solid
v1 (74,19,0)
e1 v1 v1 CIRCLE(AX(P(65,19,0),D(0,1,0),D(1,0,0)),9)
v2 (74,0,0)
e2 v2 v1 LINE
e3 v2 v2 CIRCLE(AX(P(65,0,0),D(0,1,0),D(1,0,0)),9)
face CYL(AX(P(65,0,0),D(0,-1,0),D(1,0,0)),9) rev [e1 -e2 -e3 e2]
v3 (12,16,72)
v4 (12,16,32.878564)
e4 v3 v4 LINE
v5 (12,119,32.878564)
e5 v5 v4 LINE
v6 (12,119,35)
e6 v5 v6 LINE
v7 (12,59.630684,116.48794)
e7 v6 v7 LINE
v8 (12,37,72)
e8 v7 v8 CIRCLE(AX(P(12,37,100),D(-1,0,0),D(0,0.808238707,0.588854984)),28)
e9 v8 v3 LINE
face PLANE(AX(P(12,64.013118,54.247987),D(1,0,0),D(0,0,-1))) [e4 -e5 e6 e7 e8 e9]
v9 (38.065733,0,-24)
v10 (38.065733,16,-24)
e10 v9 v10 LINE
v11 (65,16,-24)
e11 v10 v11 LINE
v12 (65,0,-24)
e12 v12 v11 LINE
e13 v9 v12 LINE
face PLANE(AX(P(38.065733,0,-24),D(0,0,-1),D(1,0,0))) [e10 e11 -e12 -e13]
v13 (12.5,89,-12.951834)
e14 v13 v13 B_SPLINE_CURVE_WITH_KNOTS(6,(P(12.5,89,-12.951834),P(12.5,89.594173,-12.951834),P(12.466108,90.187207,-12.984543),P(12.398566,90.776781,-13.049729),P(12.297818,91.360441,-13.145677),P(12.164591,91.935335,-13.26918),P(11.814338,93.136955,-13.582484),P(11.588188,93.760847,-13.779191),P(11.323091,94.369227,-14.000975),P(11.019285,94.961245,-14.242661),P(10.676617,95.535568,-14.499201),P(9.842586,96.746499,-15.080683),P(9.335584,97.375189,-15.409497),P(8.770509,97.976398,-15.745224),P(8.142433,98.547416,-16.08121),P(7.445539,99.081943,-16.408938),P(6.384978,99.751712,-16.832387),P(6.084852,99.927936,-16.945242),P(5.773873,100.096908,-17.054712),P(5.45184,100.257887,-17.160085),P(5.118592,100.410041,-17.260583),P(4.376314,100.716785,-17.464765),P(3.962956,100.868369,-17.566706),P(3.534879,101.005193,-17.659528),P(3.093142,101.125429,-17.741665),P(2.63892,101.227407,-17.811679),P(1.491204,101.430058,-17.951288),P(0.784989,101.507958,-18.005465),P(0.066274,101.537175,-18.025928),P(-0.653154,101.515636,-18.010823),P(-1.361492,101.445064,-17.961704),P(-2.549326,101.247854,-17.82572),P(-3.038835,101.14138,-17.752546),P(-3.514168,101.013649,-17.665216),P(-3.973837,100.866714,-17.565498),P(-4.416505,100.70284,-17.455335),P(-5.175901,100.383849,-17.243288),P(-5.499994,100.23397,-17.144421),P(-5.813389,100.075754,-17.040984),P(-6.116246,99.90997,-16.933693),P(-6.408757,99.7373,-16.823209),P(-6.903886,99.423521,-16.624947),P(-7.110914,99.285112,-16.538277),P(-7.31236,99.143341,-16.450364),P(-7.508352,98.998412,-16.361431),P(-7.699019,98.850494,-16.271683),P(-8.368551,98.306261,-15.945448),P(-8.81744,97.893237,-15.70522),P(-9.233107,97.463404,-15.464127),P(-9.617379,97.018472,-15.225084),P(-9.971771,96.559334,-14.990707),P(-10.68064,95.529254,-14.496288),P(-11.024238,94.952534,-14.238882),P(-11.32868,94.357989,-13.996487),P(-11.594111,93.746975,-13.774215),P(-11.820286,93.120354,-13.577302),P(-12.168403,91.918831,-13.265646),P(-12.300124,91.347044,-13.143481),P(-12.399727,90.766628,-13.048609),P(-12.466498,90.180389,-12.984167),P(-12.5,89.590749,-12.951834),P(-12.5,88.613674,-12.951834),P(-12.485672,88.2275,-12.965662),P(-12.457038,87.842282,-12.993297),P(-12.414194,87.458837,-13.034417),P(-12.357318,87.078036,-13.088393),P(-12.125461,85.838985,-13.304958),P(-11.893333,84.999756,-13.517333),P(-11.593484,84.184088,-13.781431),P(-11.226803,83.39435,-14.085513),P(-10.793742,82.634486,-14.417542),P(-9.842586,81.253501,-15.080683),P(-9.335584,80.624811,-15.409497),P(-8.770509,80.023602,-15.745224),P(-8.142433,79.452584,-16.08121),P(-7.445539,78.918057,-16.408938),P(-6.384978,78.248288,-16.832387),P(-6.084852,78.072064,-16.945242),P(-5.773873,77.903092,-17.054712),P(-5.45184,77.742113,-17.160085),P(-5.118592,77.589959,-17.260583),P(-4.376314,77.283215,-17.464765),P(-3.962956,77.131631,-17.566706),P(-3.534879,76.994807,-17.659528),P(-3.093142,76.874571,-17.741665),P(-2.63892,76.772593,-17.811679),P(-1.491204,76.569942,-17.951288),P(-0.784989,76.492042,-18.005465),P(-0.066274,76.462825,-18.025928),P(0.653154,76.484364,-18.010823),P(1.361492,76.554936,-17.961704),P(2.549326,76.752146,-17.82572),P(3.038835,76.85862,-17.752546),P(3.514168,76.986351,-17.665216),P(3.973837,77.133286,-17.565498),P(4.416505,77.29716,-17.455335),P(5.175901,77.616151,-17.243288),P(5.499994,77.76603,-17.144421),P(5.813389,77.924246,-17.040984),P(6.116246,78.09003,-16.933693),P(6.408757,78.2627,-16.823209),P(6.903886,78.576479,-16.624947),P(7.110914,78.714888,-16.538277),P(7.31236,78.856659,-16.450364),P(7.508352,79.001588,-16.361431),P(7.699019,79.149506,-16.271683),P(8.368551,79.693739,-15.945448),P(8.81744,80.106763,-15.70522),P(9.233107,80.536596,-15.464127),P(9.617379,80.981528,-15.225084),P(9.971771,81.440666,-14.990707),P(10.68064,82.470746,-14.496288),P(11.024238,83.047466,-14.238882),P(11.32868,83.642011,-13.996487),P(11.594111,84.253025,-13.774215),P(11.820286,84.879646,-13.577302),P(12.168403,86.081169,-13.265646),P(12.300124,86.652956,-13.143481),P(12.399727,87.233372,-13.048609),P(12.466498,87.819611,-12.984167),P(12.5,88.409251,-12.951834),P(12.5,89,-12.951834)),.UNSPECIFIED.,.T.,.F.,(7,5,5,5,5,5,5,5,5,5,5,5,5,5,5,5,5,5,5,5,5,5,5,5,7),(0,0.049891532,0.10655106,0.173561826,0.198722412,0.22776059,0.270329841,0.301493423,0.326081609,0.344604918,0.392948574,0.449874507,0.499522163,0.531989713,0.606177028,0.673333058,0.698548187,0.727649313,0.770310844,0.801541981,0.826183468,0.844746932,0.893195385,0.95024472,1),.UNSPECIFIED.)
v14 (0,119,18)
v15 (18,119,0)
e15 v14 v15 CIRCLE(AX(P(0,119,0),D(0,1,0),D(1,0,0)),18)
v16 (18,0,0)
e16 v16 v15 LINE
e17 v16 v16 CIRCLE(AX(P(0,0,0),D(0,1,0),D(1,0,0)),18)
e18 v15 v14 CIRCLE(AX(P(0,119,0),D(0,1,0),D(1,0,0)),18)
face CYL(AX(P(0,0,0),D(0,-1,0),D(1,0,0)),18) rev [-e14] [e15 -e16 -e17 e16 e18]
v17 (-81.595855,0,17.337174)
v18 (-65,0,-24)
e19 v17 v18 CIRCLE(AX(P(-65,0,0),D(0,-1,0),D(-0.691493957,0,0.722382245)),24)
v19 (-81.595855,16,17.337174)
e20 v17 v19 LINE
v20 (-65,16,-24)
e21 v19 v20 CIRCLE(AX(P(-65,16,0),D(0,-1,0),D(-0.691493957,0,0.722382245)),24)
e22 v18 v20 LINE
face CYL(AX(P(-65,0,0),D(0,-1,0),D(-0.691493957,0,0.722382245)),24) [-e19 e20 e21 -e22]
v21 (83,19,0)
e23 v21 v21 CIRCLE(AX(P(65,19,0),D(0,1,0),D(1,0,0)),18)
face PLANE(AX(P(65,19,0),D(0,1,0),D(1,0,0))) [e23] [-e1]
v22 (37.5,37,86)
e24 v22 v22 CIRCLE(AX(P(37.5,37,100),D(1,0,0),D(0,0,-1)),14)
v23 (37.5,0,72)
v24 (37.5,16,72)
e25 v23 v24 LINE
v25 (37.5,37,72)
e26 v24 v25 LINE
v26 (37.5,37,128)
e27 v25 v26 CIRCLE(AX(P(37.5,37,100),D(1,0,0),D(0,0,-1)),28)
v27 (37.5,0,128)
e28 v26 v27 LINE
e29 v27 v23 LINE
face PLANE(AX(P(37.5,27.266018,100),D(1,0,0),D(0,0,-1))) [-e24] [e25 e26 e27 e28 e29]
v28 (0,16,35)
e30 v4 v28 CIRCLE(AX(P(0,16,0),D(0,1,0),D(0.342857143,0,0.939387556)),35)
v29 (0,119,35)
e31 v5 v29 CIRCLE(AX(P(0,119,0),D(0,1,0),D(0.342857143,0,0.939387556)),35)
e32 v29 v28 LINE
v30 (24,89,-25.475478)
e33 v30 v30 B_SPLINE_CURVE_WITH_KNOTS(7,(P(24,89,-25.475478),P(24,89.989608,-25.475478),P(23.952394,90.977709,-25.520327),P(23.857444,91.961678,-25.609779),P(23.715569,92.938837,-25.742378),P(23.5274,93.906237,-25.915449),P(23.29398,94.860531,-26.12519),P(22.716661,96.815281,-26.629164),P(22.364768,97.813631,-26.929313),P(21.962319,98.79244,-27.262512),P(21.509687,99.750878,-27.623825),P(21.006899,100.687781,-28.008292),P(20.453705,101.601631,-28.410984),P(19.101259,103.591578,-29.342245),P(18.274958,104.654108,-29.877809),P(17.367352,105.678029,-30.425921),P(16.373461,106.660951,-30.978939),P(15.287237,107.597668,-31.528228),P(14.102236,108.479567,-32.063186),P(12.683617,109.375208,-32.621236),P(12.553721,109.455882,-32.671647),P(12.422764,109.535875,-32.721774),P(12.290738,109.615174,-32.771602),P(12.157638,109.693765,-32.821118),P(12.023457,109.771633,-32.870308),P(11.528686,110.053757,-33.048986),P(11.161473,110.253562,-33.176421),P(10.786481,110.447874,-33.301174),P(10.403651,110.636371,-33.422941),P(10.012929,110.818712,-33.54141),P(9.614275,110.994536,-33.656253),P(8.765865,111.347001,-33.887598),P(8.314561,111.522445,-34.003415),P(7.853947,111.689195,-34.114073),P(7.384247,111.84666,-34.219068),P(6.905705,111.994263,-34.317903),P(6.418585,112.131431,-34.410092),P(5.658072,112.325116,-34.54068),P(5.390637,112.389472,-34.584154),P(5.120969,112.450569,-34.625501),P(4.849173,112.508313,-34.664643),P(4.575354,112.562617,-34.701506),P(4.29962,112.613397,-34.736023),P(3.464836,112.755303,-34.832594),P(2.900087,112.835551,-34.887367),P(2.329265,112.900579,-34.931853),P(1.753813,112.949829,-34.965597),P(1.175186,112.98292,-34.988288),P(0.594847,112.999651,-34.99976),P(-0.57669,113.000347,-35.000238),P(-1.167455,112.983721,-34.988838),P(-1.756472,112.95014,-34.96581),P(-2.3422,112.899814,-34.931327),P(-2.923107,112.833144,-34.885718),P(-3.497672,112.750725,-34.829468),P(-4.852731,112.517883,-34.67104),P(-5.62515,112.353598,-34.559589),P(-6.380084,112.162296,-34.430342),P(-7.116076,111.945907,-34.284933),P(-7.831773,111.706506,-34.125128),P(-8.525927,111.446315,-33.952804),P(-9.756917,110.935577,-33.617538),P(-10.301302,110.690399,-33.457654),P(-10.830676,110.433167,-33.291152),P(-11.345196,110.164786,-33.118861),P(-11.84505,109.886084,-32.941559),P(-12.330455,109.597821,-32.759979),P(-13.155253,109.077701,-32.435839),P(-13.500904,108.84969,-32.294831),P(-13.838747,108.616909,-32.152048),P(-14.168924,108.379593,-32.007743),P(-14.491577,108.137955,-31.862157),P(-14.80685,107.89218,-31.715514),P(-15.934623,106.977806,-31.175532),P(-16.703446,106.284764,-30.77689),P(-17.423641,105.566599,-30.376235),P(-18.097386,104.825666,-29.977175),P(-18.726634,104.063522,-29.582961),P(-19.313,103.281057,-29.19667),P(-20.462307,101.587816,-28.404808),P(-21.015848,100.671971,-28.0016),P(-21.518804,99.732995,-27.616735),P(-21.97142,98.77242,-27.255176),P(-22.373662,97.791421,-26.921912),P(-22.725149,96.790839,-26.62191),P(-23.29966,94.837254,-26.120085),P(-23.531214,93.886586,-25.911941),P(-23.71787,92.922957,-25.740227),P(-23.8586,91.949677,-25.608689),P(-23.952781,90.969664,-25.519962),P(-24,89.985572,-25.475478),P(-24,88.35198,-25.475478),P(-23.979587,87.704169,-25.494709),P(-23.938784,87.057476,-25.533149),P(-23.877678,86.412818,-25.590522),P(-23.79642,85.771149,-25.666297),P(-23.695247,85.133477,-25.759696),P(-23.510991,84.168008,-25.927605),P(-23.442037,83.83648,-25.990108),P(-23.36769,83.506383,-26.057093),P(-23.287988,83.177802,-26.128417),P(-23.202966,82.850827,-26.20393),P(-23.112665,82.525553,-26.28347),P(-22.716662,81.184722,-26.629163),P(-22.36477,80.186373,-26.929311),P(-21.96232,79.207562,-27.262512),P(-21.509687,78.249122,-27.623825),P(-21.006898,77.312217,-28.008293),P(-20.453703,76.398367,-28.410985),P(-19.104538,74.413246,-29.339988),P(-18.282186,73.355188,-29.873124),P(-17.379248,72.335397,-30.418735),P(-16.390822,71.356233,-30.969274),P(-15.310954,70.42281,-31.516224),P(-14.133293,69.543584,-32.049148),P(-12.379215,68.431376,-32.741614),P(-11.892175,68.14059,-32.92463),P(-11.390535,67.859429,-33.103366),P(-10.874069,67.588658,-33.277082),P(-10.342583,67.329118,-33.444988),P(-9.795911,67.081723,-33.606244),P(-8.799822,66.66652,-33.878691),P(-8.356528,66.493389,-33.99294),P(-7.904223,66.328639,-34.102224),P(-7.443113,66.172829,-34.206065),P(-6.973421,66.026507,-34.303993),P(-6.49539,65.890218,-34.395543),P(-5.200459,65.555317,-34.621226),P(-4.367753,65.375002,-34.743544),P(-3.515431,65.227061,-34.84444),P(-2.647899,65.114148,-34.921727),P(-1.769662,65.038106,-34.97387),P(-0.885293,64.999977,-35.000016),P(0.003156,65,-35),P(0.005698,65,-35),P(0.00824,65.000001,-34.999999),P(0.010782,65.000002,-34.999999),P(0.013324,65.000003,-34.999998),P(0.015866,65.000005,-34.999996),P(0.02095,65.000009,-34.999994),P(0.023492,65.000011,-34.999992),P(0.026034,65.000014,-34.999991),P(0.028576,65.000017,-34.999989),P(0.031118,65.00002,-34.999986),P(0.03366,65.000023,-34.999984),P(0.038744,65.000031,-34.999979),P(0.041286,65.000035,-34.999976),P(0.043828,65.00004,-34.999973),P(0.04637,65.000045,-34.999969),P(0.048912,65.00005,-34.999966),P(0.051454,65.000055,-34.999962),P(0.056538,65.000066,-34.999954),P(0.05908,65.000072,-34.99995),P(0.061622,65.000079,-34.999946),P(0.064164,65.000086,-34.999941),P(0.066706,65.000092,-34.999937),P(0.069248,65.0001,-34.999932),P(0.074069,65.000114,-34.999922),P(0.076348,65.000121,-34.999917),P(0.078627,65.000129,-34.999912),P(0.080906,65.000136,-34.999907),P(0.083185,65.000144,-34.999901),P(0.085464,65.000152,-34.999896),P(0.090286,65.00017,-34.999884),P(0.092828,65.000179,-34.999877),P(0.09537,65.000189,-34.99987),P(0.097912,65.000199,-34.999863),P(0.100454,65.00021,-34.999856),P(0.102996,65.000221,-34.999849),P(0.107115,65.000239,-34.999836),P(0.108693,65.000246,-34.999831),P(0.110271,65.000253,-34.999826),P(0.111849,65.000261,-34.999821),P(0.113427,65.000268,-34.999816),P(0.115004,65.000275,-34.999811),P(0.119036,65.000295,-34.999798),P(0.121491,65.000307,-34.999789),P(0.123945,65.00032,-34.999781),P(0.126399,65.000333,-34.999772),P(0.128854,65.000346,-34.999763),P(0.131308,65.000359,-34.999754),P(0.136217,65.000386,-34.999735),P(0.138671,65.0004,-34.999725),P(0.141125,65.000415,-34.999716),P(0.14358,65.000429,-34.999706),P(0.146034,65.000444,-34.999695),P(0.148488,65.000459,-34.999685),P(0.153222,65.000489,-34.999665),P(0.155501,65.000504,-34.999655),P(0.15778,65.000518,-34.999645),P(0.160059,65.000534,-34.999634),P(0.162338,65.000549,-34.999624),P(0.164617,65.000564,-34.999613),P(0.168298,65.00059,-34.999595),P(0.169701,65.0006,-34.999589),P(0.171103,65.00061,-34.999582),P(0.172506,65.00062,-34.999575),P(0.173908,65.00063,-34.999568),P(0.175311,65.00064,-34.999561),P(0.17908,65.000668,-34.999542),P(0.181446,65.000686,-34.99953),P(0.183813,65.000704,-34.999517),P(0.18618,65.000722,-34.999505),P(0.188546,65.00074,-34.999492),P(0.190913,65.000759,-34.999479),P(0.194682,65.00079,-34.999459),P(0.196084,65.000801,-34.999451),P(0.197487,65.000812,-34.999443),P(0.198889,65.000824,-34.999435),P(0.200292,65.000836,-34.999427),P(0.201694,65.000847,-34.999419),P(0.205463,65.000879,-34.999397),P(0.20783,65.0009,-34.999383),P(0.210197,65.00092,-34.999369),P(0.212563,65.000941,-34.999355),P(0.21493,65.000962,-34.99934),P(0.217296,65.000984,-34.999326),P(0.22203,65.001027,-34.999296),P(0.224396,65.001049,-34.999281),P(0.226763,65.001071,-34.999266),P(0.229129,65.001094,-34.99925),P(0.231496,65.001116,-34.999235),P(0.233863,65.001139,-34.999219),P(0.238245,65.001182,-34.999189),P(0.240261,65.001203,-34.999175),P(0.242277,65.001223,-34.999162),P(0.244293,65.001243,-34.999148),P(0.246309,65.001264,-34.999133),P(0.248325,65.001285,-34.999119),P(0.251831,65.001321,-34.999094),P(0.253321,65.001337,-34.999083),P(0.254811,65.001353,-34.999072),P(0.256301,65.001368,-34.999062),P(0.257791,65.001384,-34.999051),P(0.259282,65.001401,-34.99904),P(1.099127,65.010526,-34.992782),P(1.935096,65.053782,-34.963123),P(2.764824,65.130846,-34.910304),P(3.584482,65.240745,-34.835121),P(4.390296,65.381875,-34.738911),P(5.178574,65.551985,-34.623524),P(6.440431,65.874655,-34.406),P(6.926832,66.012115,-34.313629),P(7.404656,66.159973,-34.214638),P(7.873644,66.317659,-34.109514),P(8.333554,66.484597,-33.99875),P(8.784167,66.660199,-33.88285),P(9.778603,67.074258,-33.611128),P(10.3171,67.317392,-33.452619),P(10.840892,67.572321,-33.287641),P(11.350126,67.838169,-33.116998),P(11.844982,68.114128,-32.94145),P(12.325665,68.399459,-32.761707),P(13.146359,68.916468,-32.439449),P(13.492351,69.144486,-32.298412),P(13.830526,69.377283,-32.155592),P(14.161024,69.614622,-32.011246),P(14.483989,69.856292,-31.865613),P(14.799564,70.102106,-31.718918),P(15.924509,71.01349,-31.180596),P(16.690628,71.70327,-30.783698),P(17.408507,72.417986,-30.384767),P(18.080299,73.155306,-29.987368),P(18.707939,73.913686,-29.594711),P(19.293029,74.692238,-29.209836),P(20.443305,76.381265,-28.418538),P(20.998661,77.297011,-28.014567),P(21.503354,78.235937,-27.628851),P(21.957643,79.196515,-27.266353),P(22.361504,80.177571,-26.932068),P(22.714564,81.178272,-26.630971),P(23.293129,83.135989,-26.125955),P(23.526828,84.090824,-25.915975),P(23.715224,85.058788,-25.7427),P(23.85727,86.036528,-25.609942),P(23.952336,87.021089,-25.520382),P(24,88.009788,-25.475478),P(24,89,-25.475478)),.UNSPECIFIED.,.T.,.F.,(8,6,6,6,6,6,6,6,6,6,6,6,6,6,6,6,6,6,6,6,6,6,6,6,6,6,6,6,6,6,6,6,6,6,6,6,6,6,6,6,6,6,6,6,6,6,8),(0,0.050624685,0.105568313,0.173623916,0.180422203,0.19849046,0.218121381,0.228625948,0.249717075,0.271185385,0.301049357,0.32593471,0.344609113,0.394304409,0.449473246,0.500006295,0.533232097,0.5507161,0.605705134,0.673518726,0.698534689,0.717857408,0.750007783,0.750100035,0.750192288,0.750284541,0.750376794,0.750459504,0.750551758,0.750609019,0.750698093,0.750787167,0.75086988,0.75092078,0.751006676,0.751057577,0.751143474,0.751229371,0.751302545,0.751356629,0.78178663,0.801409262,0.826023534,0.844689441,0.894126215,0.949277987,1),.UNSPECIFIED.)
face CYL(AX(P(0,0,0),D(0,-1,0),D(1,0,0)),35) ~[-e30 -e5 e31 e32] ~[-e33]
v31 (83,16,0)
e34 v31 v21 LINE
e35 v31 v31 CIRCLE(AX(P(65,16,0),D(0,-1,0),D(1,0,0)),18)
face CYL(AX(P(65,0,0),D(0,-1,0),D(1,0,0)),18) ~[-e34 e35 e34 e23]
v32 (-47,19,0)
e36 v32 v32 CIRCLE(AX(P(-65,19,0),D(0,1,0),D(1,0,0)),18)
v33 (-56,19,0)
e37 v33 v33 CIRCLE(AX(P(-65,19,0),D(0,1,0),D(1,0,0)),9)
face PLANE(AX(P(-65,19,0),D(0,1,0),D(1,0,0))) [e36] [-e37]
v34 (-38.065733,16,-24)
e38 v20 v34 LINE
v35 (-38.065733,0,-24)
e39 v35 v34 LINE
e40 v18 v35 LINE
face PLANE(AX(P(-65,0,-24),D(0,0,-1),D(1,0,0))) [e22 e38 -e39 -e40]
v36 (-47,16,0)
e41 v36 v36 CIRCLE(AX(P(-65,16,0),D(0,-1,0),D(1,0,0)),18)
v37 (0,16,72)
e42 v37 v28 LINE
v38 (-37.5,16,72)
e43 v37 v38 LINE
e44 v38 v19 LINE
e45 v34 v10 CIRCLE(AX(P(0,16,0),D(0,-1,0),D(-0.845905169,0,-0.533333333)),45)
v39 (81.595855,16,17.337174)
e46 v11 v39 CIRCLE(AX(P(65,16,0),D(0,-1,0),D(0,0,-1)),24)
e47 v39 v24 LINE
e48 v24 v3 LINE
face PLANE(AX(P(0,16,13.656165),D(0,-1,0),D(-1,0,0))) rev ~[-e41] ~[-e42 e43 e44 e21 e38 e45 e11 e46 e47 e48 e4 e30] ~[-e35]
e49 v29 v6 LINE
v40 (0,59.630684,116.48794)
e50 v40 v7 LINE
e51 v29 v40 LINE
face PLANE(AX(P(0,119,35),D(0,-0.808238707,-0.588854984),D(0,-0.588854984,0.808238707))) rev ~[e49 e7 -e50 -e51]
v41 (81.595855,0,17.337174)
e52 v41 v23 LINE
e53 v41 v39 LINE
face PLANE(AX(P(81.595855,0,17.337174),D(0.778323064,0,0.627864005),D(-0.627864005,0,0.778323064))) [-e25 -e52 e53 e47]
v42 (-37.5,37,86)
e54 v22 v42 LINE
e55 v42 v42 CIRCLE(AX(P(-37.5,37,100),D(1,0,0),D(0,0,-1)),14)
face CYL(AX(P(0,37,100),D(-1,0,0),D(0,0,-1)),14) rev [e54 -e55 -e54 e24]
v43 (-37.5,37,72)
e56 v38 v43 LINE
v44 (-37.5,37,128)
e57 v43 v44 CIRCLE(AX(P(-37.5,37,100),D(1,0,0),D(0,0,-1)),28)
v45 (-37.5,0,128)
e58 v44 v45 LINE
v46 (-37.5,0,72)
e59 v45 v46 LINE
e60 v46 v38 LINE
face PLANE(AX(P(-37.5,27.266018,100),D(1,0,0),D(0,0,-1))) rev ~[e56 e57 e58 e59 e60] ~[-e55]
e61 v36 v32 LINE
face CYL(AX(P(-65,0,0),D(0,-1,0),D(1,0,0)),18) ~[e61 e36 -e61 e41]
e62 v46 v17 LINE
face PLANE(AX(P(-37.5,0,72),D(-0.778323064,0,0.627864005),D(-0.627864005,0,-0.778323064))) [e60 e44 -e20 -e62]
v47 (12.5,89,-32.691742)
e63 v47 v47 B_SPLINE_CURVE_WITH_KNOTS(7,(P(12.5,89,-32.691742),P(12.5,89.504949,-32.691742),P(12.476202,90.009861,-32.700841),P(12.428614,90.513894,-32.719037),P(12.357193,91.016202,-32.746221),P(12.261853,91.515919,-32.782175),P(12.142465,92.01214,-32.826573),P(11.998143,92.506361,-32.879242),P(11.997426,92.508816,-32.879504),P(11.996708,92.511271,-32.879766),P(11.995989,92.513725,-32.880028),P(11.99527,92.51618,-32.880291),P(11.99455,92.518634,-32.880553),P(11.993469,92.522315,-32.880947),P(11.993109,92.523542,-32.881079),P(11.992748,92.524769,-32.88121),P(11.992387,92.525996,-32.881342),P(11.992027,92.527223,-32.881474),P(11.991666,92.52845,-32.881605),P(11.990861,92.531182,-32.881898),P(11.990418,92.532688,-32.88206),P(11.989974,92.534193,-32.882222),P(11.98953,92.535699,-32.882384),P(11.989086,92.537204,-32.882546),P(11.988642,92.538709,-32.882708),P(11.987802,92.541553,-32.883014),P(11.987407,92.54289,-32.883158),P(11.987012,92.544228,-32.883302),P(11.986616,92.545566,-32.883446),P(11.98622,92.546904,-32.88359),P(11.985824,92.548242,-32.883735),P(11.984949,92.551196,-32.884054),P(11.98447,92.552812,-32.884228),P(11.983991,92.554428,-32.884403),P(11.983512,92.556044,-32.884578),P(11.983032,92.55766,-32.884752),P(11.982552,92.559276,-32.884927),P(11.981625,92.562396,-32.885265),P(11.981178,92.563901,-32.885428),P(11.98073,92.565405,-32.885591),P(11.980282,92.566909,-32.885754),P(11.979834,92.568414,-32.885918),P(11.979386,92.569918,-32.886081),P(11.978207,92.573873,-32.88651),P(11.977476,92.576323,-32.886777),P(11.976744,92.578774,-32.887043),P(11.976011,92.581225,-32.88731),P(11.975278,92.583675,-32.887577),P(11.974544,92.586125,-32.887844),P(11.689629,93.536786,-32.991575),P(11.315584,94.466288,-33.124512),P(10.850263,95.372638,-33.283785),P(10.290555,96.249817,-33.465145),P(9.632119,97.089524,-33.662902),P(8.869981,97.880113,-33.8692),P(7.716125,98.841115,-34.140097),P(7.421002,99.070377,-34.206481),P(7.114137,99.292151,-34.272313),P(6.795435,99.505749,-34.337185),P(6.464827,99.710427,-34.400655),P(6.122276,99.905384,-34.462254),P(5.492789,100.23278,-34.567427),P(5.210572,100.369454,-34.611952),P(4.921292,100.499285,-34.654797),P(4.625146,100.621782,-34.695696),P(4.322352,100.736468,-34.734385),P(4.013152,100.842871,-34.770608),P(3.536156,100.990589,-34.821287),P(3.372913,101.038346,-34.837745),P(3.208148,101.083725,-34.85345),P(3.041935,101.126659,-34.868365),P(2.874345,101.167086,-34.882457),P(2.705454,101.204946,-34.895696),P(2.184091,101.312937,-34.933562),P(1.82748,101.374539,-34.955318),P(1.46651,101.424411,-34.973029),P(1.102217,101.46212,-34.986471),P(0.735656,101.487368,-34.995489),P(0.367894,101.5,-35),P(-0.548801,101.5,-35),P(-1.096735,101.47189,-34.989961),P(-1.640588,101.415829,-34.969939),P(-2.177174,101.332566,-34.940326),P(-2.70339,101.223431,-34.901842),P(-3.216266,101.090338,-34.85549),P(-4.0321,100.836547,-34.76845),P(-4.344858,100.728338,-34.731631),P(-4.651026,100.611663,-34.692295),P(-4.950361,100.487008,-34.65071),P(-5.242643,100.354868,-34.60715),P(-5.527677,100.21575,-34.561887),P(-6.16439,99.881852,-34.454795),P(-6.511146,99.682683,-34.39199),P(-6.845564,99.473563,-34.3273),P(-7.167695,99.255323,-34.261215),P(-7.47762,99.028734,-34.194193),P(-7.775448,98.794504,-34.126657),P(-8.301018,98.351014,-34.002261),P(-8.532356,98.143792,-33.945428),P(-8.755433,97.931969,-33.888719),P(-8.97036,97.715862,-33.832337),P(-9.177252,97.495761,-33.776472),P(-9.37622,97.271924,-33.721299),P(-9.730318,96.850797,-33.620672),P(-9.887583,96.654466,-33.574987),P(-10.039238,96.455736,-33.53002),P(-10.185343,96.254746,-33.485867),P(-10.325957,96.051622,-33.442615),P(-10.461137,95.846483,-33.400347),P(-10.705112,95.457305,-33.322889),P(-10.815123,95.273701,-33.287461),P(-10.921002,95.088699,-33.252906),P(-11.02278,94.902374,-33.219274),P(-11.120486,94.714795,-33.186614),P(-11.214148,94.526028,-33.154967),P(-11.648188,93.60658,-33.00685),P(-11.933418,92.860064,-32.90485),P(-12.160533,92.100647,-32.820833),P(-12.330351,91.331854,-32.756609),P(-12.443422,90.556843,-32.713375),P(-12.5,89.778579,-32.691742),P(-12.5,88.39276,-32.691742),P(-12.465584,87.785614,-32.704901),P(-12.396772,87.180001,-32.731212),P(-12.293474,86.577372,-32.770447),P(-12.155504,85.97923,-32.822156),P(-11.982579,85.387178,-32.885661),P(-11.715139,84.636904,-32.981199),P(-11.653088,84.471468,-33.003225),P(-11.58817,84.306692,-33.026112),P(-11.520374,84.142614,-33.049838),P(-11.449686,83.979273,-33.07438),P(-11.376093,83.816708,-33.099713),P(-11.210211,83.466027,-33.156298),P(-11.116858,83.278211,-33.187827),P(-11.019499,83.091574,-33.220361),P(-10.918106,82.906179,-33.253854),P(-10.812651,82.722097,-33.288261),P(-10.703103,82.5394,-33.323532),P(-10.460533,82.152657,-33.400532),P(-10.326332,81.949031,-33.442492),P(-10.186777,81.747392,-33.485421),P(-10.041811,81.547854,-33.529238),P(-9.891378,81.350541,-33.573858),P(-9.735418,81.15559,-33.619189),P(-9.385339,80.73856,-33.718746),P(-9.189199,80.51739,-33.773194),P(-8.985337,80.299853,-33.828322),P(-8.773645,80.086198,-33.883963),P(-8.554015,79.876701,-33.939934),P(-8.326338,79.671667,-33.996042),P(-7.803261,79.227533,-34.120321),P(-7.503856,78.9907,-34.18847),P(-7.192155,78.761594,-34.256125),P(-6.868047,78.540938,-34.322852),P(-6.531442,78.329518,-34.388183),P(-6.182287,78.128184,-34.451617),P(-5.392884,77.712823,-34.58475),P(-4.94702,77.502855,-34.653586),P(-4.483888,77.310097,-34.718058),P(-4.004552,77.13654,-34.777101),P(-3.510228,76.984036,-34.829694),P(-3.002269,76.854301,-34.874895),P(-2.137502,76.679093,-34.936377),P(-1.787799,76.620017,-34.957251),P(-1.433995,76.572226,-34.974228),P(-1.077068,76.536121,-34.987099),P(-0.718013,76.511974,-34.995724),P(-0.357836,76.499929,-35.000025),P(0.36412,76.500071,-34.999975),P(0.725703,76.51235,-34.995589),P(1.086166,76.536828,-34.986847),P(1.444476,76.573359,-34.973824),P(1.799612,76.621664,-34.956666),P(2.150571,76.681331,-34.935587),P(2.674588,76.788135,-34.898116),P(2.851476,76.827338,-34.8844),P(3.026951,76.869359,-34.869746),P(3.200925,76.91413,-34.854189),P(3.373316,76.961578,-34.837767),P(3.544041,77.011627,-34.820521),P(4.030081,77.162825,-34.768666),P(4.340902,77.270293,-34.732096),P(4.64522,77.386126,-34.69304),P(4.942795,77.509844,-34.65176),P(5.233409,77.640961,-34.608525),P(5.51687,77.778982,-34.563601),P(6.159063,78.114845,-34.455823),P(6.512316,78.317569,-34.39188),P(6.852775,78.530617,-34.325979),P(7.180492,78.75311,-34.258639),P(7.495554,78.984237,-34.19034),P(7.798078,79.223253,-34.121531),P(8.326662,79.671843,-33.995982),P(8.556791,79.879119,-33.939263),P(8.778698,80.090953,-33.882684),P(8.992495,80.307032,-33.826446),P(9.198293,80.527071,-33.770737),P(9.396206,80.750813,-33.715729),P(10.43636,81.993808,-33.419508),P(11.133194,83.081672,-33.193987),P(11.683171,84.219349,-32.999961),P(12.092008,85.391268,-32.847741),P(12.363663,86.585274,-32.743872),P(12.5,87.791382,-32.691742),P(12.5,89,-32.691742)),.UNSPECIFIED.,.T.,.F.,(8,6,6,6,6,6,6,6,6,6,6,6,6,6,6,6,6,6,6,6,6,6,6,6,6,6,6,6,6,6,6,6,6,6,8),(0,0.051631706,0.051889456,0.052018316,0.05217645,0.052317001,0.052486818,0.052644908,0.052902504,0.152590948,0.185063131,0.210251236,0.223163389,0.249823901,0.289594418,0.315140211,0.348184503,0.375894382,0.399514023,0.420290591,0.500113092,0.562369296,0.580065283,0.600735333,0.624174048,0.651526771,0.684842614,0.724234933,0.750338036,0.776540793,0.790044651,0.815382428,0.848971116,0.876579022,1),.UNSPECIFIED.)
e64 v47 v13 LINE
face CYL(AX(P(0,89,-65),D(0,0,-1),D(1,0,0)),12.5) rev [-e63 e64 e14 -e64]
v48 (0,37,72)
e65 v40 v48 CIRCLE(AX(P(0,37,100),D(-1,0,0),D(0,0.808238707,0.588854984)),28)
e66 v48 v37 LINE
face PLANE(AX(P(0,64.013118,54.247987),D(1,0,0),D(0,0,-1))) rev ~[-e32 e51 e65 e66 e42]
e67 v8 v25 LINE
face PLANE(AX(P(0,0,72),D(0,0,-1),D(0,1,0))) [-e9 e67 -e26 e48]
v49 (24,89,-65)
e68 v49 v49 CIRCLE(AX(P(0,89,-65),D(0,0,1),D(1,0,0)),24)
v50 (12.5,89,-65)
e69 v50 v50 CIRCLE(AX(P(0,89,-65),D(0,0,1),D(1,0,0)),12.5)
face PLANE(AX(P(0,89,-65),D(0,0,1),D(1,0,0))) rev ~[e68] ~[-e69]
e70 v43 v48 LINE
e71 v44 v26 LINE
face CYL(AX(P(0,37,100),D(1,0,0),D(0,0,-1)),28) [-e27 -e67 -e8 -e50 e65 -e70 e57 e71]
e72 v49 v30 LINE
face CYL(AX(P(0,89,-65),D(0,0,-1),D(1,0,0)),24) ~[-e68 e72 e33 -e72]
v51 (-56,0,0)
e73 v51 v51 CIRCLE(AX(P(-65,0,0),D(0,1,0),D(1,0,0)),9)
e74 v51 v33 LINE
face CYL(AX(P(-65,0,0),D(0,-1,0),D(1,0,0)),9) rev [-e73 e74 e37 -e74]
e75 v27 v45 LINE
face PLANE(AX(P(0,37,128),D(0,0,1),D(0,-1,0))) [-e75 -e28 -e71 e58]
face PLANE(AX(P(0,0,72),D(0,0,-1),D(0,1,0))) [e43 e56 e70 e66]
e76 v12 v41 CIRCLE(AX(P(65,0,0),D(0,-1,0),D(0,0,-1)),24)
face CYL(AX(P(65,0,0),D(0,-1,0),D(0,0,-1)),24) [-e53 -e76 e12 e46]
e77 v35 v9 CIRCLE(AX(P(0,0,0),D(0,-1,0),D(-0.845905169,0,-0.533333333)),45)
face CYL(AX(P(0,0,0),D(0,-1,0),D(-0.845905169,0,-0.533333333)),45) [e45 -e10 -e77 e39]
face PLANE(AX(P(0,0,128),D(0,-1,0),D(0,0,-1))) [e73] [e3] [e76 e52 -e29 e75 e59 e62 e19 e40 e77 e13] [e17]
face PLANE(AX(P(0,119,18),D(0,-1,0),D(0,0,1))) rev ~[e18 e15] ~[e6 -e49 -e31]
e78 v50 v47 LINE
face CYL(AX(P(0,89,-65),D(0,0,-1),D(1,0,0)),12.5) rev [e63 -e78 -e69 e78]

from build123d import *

# Parameters (mm, degrees)
CROQUIS2_R              = 18
CROQUIS2_R_2            = 9
SALIENTE_EXTRUIR1_DEPTH = 16
CROQUIS3_R              = 18
CROQUIS3_R_2            = 9
SALIENTE_EXTRUIR2_DEPTH = 19
CROQUIS4_R              = 35
CROQUIS4_R_2            = 18
SALIENTE_EXTRUIR3_DEPTH = 119
CROQUIS5_R              = 14
SALIENTE_EXTRUIR4_DEPTH = 37.5
SALIENTE_EXTRUIR5_DEPTH = 12
SALIENTE_EXTRUIR6_REACH = 195
CROQUIS7_R              = 24
CROQUIS7_R_2            = 12.5
CORTAR_EXTRUIR1_REACH   = 195
CROQUIS8_R              = 12.5


with BuildPart() as part:
    # Croquis2 → Saliente-Extruir1 (new body)
    with BuildSketch(Plane(origin=(0, 0, 0), x_dir=(1, 0, 0), z_dir=(0, 1, 0))):
        with BuildLine():
            Line((-65, 24), (-38.065732621, 24))
            ThreePointArc((-38.065732621, 24), (0, 45), (38.065732621, 24))
            Line((38.065732621, 24), (65, 24))
            ThreePointArc((65, 24), (87.272092101, 8.941695223), (81.595854962, -17.337173878))
            Line((81.595854962, -17.337173878), (37.5, -72))
            Line((37.5, -72), (-37.5, -72))
            Line((-37.5, -72), (-81.595854962, -17.337173878))
            ThreePointArc((-81.595854962, -17.337173878), (-87.272092101, 8.941695223), (-65, 24))
        make_face()
        Circle(CROQUIS2_R, mode=Mode.SUBTRACT)
        with Locations((65, 0)):
            Circle(CROQUIS2_R_2, mode=Mode.SUBTRACT)
        with Locations((-65, 0)):
            Circle(CROQUIS2_R_2, mode=Mode.SUBTRACT)
    extrude(amount=SALIENTE_EXTRUIR1_DEPTH)

    # Croquis3 → Saliente-Extruir2 (add)
    with BuildSketch(Plane(origin=(0, 0, 0), x_dir=(1, 0, 0), z_dir=(0, 1, 0))):
        with Locations((65, 0)):
            Circle(CROQUIS3_R)
        with Locations((65, 0)):
            Circle(CROQUIS3_R_2, mode=Mode.SUBTRACT)
        with Locations((-65, 0)):
            Circle(CROQUIS3_R)
        with Locations((-65, 0)):
            Circle(CROQUIS3_R_2, mode=Mode.SUBTRACT)
    extrude(amount=SALIENTE_EXTRUIR2_DEPTH)

    # Croquis4 → Saliente-Extruir3 (add)
    with BuildSketch(Plane(origin=(0, 0, 0), x_dir=(1, 0, 0), z_dir=(0, 1, 0))):
        Circle(CROQUIS4_R)
        Circle(CROQUIS4_R_2, mode=Mode.SUBTRACT)
    extrude(amount=SALIENTE_EXTRUIR3_DEPTH)

    # Croquis5 → Saliente-Extruir4 (add, symmetric)
    with BuildSketch(Plane(origin=(0, 0, 0), x_dir=(0, 0, -1), z_dir=(1, 0, 0))):
        with BuildLine():
            Line((-72, 0), (-72, 37))
            ThreePointArc((-72, 37), (-100, 65), (-128, 37))
            Line((-128, 37), (-128, 0))
            Line((-128, 0), (-72, 0))
        make_face()
        with Locations((-100, 37)):
            Circle(CROQUIS5_R, mode=Mode.SUBTRACT)
    extrude(amount=SALIENTE_EXTRUIR4_DEPTH, both=True)

    # Croquis6 → Saliente-Extruir5 (add)
    with BuildSketch(Plane(origin=(0, 0, 0), x_dir=(0, 0, -1), z_dir=(1, 0, 0))):
        with BuildLine():
            Line((-72, 16), (-18, 16))
            Line((-18, 16), (-18, 119))
            Line((-18, 119), (-35, 119))
            Line((-35, 119), (-116.487939559, 59.630683797))
            ThreePointArc((-116.487939559, 59.630683797), (-87.304770732, 61.95658538), (-72, 37))
            Line((-72, 37), (-72, 16))
        make_face()
    extrude(amount=SALIENTE_EXTRUIR5_DEPTH)

    # Croquis7 → Saliente-Extruir6 (add, up to next)
    with BuildSketch(Plane.XY.offset(-65), mode=Mode.PRIVATE) as saliente_extruir6_sk1:
        with Locations((0, 89)):
            Circle(CROQUIS7_R)
        with Locations((0, 89)):
            Circle(CROQUIS7_R_2, mode=Mode.SUBTRACT)
    saliente_extruir6_tool1 = extrude(saliente_extruir6_sk1.sketch, amount=SALIENTE_EXTRUIR6_REACH, mode=Mode.PRIVATE) - part.part
    add(saliente_extruir6_tool1.solids().sort_by_distance((-23.321177, 89, -65))[0])

    # Croquis8 → Cortar-Extruir1 (cut, up to next)
    with BuildSketch(Plane.XY.offset(-65), mode=Mode.PRIVATE) as cortar_extruir1_sk1:
        with Locations((0, 89)):
            Circle(CROQUIS8_R)
    cortar_extruir1_tool1 = extrude(cortar_extruir1_sk1.sketch, amount=CORTAR_EXTRUIR1_REACH, mode=Mode.PRIVATE) & part.part
    add(cortar_extruir1_tool1.solids().sort_by_distance((0, 89, -65))[0], mode=Mode.SUBTRACT)


solid = part.part
